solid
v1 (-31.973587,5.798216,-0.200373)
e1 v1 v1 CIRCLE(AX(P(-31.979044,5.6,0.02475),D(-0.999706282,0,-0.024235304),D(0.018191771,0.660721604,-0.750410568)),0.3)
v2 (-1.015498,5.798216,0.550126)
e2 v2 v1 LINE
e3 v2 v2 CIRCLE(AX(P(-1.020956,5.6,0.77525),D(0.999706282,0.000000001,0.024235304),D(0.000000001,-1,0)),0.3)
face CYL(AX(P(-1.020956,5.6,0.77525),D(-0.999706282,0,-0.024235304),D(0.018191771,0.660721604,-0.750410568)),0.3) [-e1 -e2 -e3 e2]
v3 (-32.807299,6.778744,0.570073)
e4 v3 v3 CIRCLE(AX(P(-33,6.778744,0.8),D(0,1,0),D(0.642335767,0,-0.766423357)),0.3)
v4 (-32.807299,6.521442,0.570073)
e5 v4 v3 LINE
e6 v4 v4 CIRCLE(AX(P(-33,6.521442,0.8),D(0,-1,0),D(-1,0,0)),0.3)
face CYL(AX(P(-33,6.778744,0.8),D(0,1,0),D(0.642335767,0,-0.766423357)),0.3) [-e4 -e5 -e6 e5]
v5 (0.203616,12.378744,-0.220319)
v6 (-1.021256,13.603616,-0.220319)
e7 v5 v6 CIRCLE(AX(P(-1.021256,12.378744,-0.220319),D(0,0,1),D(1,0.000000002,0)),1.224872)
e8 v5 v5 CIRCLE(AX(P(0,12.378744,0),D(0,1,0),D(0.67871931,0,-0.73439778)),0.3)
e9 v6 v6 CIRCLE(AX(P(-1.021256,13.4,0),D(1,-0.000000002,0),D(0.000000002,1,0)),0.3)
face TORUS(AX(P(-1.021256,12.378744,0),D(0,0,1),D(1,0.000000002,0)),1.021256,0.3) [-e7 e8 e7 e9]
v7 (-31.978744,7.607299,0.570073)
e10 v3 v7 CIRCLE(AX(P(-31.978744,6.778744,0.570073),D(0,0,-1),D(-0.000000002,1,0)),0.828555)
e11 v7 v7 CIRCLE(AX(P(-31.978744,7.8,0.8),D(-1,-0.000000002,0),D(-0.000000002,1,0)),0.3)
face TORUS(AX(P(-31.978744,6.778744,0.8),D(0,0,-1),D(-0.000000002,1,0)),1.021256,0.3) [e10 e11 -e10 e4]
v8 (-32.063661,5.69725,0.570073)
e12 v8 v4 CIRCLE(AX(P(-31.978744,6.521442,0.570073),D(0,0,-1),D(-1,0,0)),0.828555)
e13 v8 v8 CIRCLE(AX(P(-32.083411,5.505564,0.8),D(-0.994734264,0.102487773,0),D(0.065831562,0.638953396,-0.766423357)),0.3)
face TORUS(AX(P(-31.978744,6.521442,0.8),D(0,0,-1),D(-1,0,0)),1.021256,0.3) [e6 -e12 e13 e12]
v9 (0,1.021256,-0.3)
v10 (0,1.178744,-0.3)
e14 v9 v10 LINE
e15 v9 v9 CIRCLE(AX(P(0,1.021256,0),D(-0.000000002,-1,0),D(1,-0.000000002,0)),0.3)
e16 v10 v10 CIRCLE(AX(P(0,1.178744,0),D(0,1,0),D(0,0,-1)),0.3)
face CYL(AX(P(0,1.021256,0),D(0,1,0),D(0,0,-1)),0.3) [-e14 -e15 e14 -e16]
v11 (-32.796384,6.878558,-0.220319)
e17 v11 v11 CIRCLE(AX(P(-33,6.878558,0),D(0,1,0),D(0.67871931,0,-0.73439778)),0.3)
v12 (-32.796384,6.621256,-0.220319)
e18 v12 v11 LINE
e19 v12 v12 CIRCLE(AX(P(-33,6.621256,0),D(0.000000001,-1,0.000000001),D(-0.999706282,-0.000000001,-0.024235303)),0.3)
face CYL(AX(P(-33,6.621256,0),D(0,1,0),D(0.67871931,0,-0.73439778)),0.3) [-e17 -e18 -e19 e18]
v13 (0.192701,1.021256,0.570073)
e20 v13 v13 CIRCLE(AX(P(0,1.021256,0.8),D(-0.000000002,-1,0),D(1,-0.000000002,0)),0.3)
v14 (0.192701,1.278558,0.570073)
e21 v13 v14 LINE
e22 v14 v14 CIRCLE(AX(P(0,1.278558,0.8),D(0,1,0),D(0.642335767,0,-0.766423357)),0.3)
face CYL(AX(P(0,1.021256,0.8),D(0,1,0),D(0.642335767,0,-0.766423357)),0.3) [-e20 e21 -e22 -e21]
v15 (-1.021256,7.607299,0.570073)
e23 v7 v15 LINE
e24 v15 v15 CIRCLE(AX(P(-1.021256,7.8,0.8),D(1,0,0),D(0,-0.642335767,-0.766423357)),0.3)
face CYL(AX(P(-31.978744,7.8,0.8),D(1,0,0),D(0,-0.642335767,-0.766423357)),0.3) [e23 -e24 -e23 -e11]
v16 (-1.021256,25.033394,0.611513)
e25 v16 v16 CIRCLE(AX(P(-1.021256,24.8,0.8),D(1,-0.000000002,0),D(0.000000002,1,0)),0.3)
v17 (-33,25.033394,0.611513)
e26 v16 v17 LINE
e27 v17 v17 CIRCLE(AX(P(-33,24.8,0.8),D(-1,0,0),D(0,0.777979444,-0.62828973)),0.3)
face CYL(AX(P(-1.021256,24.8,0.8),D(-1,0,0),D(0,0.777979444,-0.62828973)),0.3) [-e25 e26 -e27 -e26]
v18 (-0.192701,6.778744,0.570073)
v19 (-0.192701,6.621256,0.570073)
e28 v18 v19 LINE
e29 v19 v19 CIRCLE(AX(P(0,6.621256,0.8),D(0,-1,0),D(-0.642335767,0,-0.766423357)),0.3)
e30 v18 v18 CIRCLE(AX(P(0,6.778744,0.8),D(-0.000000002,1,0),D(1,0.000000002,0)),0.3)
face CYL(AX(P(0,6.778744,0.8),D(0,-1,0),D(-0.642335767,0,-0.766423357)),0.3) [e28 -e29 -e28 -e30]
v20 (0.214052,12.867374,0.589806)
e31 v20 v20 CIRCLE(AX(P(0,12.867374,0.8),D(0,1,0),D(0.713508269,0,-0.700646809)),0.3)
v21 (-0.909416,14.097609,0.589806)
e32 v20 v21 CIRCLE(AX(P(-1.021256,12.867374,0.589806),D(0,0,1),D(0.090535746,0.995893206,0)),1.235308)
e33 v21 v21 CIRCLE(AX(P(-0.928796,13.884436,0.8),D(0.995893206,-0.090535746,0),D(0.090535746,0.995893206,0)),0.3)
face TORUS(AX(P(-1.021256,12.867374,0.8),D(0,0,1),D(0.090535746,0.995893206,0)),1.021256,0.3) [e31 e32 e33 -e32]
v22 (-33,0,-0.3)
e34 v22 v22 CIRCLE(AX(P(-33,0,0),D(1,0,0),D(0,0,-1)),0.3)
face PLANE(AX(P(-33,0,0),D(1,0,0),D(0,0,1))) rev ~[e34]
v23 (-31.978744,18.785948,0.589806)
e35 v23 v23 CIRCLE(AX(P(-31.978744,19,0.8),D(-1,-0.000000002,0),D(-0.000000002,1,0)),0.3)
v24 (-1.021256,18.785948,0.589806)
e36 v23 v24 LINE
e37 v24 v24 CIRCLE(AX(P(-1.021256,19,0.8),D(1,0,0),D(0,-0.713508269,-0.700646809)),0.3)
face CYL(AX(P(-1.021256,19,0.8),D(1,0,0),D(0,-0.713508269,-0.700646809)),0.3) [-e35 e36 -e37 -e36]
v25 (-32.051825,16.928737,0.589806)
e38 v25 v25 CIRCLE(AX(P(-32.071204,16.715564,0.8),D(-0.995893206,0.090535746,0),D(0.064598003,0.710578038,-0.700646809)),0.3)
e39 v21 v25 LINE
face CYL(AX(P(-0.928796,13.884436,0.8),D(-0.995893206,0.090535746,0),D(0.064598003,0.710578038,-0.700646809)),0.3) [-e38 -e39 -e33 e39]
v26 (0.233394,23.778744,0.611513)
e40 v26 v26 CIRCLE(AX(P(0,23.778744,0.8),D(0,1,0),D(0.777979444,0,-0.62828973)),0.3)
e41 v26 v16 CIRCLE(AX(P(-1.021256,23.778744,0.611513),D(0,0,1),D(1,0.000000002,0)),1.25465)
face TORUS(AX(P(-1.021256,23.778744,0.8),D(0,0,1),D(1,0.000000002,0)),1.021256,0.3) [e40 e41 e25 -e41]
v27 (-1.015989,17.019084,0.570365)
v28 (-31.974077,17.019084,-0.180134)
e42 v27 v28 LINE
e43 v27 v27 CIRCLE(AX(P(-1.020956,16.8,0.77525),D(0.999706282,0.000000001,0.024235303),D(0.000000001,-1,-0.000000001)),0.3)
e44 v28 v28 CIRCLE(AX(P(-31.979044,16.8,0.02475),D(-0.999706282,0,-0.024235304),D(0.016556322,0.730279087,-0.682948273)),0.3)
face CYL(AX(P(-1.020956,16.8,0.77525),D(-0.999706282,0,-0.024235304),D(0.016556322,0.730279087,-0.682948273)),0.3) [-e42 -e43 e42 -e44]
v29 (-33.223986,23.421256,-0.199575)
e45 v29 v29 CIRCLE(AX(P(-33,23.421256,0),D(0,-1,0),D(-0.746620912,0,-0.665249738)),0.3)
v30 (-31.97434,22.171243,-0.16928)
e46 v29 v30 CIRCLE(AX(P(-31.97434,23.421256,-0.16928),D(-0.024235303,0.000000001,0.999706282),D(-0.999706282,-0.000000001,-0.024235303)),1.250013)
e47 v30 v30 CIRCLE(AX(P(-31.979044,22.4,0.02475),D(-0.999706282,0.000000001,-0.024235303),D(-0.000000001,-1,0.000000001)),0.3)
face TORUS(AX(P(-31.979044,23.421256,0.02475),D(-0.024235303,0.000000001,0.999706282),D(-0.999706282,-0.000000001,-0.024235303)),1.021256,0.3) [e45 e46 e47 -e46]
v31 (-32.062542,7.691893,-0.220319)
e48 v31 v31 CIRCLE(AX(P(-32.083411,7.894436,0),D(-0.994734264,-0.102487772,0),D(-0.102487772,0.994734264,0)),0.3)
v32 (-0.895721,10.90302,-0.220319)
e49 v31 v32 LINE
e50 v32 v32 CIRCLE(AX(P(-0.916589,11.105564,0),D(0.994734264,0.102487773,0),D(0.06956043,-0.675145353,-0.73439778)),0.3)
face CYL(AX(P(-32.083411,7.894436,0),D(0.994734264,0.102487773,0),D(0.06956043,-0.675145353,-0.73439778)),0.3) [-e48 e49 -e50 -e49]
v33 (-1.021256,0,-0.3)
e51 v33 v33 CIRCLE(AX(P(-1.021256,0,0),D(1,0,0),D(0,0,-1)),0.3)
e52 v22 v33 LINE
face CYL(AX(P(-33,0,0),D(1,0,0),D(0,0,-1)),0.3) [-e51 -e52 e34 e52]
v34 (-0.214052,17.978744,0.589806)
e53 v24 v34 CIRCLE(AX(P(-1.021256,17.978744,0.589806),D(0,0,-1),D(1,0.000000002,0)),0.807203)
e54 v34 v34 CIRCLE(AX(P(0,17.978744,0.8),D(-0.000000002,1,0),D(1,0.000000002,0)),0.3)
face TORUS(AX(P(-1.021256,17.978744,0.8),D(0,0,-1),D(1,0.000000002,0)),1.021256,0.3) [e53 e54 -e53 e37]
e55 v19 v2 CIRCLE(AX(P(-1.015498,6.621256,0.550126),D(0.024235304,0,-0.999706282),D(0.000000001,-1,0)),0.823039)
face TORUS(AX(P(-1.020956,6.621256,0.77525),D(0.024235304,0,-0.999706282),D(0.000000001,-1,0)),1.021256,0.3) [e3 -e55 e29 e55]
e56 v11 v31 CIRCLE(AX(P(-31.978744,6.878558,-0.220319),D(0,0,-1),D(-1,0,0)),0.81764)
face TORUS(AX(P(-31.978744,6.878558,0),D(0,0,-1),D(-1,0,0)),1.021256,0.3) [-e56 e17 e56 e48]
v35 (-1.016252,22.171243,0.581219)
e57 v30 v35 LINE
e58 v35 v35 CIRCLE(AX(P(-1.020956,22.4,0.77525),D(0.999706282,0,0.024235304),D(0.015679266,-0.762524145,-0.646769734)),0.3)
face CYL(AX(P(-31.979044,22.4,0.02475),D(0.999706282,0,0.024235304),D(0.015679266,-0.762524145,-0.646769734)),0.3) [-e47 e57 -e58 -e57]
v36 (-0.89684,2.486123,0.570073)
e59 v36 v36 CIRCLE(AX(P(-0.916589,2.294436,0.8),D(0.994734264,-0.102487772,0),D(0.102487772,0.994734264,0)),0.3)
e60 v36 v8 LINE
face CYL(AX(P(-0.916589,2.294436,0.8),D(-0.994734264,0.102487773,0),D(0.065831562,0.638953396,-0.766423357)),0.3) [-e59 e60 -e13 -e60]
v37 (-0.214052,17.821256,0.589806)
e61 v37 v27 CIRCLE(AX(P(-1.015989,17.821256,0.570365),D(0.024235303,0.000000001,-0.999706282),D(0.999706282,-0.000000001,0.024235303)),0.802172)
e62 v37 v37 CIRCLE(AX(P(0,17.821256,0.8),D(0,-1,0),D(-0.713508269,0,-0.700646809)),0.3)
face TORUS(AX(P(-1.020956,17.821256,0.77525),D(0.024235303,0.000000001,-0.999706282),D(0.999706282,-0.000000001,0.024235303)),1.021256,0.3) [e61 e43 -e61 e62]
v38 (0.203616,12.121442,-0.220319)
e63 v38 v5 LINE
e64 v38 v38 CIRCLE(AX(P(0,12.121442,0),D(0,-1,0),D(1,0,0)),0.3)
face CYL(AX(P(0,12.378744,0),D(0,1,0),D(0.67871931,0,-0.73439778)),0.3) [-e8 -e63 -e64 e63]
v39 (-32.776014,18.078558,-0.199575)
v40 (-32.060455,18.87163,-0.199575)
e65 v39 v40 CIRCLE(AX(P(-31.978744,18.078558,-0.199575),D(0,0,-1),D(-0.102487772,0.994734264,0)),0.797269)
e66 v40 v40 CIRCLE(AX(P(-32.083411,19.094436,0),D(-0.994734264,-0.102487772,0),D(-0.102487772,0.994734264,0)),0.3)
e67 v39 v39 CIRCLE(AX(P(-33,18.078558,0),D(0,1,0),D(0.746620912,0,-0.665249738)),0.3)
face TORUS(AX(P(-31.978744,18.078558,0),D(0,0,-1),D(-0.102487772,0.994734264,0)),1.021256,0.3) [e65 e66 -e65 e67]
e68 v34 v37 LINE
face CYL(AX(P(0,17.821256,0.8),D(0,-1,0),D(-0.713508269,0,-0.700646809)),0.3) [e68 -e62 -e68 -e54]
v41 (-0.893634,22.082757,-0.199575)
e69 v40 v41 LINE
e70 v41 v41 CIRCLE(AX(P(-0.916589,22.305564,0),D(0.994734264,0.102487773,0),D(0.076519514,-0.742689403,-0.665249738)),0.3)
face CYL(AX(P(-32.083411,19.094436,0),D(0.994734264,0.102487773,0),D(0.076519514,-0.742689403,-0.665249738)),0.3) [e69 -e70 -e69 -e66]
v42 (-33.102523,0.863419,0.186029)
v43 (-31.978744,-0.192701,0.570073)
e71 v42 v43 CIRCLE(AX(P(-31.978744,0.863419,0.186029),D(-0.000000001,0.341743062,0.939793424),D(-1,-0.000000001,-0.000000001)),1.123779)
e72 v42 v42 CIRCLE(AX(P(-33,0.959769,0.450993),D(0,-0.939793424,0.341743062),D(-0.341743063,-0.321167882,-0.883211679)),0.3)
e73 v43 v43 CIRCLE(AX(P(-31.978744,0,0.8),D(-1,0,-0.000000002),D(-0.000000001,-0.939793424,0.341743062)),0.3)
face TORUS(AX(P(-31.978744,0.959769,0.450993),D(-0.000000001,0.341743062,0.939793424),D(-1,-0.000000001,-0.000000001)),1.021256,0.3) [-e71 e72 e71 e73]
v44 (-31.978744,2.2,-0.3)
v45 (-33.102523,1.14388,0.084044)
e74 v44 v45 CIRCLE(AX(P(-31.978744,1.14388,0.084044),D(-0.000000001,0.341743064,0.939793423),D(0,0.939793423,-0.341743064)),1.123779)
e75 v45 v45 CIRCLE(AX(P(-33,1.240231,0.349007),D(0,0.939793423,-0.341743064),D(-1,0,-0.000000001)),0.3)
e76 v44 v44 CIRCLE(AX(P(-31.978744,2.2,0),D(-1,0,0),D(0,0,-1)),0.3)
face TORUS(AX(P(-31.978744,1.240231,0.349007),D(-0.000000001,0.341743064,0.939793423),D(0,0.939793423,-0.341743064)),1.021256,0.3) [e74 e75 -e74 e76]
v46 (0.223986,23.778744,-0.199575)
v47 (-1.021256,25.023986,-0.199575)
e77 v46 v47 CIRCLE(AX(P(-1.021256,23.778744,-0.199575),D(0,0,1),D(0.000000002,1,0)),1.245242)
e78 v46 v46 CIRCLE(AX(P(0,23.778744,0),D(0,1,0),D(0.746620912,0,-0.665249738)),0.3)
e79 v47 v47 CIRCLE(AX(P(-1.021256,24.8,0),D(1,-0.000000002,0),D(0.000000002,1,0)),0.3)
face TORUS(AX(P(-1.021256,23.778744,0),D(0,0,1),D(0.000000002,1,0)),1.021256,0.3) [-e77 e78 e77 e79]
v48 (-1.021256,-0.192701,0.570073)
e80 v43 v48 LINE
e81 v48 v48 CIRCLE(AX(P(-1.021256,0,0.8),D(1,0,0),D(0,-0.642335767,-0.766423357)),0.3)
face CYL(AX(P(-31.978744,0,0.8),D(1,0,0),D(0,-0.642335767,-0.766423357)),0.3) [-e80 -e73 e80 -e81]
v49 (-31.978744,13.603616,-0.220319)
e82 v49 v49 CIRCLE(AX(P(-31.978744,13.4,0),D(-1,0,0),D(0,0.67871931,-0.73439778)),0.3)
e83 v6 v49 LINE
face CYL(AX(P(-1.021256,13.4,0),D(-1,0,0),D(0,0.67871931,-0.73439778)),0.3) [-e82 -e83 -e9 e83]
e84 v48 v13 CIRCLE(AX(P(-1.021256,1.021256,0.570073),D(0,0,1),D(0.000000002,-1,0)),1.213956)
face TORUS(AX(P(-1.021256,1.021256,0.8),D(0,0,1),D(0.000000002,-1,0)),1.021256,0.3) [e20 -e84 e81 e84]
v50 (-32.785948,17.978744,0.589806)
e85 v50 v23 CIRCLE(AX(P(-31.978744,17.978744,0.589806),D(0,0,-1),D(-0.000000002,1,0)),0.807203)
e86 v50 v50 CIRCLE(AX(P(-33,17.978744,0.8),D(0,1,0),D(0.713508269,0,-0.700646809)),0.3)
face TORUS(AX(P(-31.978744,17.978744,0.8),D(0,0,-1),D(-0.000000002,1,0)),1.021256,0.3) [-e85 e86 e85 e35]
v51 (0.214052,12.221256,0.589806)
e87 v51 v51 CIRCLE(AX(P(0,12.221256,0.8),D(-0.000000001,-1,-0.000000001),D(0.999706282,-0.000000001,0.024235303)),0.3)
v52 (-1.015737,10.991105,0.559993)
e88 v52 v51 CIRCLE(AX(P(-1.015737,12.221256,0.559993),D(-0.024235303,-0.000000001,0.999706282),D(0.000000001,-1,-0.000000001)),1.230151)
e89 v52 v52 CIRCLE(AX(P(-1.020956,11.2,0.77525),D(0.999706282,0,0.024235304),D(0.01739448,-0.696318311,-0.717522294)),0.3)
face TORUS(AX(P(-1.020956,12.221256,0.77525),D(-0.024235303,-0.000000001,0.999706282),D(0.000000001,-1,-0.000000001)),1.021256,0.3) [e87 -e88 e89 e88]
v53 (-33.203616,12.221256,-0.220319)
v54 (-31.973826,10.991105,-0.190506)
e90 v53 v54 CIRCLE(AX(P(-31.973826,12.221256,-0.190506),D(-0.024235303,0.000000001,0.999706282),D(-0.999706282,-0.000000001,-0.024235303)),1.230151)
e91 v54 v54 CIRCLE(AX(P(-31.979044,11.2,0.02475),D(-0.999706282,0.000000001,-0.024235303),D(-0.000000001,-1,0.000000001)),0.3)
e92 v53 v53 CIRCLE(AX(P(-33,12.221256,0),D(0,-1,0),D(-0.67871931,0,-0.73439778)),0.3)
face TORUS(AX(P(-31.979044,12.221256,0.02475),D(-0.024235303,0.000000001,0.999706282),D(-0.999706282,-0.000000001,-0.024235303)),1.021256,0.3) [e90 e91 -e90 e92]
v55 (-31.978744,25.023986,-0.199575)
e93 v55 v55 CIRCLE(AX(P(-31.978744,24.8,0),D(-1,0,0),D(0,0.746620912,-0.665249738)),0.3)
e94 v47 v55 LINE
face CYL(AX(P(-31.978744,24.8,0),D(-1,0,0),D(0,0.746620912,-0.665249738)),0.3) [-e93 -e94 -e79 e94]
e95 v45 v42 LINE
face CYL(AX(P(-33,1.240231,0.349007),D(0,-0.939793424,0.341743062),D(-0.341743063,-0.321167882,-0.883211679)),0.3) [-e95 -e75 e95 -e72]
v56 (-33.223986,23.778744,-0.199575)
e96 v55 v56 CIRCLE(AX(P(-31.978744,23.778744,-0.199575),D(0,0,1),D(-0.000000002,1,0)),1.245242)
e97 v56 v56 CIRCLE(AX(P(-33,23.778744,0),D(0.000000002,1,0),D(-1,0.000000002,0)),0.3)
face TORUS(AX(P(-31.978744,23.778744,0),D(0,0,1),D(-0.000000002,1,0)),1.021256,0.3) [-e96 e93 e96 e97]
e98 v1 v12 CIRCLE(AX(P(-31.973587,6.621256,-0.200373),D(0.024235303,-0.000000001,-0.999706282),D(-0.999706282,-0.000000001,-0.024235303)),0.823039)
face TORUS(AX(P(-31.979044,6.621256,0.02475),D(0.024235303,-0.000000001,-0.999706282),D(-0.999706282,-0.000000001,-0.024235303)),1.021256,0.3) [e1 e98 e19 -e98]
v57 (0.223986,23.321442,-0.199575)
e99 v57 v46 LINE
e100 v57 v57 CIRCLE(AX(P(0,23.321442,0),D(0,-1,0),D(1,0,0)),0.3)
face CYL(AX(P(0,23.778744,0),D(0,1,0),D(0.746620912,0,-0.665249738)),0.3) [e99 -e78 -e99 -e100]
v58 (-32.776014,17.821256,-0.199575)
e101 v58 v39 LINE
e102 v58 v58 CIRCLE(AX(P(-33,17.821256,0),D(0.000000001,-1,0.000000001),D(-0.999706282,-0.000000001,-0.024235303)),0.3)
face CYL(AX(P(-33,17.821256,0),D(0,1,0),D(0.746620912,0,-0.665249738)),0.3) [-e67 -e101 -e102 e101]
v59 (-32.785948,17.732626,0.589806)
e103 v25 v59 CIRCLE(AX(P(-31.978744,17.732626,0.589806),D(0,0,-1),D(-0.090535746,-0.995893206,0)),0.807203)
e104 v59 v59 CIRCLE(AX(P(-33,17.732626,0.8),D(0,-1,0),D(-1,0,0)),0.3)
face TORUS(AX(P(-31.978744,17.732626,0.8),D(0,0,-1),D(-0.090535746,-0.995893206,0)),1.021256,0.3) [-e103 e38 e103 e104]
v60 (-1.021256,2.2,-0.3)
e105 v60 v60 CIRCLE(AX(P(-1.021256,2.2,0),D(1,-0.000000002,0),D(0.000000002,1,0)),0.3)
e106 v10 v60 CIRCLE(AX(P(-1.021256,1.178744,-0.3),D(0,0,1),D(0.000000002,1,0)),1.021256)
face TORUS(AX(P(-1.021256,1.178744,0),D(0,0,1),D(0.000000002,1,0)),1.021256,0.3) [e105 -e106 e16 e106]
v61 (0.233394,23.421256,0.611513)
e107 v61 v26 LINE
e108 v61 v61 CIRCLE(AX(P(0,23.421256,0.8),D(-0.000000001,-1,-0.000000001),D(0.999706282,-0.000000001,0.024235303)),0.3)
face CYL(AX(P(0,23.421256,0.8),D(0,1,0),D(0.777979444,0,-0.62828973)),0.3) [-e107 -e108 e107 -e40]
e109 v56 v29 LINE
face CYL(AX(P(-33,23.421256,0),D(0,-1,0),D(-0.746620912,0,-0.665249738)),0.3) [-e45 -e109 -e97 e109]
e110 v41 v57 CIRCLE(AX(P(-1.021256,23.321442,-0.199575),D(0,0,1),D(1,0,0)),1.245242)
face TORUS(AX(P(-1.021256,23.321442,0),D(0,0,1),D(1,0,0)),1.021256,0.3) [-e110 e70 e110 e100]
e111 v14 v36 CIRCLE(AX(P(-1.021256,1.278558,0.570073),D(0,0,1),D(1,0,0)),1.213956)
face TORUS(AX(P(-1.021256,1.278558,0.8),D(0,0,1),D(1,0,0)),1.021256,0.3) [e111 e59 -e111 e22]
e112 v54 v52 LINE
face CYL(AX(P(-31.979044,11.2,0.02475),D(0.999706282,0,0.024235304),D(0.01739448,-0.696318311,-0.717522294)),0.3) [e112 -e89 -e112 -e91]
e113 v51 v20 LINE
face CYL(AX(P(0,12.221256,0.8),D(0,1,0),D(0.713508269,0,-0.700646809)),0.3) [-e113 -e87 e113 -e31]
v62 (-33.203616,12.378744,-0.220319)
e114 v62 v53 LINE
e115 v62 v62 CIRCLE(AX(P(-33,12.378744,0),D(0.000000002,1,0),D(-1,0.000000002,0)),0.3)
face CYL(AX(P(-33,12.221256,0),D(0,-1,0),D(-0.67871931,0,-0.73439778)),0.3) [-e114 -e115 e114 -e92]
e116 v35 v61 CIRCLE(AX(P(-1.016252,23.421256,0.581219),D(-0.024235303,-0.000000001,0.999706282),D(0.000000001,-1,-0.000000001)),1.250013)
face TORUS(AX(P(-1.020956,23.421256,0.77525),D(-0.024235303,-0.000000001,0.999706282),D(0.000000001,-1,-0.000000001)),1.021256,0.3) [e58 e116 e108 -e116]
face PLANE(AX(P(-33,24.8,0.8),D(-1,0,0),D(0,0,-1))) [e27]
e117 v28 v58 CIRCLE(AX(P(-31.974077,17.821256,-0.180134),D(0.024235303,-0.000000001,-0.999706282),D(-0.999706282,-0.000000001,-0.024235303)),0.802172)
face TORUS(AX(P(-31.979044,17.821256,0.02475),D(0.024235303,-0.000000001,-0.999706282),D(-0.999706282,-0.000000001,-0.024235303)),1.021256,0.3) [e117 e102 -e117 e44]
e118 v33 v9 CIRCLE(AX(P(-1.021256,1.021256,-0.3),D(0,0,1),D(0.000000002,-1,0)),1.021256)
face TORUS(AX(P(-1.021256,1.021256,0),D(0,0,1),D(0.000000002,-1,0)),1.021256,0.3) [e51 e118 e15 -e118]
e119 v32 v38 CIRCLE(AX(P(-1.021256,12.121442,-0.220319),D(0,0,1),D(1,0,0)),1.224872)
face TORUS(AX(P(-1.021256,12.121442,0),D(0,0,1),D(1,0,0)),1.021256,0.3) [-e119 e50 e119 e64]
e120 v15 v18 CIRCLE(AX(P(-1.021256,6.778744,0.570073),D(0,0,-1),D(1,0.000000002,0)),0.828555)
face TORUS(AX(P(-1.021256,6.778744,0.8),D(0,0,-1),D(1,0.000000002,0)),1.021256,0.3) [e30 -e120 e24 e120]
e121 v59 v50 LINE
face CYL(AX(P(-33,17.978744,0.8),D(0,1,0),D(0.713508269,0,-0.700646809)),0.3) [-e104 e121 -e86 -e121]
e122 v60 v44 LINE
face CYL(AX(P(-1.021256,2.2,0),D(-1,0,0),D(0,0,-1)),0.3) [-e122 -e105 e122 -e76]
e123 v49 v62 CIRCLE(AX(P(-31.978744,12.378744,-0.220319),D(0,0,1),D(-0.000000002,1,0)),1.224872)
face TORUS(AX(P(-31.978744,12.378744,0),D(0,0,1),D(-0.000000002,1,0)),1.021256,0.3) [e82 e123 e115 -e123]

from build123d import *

# Parameters (mm, degrees)
SKETCH5_R = 0.3


with BuildPart() as part:
    # Sweep4: sweep along a curve in space
    with BuildLine() as sweep4_path:
        Line((-33, 0, 0), (-1.021255708, 0, 0))
        ThreePointArc((-1.021255708, 0, 0), (-0.299118872, 0.299118872, 0), (0, 1.021255708, 0))
        Line((0, 1.021255708, 0), (0, 1.178744292, 0))
        ThreePointArc((-1.021255708, 2.2, 0), (-0.299118872, 1.900881128, 0), (0, 1.178744292, 0))
        Line((-1.021255708, 2.2, 0), (-31.978744292, 2.2, 0))
        ThreePointArc((-31.978744292, 2.2, 0), (-32.700881128, 1.918890052, 0.102221799), (-33, 1.240230602, 0.349007054))
        Line((-33, 1.240230602, 0.349007054), (-33, 0.959769398, 0.450992946))
        ThreePointArc((-33, 0.959769398, 0.450992946), (-32.700881128, 0.281109948, 0.6977782), (-31.978744292, 0, 0.8))
        Line((-31.978744292, 0, 0.8), (-1.021255708, 0, 0.8))
        ThreePointArc((-1.021255708, 0, 0.8), (-0.299118872, 0.299118872, 0.8), (0, 1.021255708, 0.8))
        Line((0, 1.021255708, 0.8), (0, 1.278558447, 0.8))
        ThreePointArc((0, 1.278558447, 0.8), (-0.263016234, 1.962690102, 0.8), (-0.916589485, 2.294436492, 0.8))
        Line((-0.916589485, 2.294436492, 0.8), (-32.083410515, 5.505563508, 0.8))
        ThreePointArc((-33, 6.521441553, 0.8), (-32.736983766, 5.837309898, 0.8), (-32.083410515, 5.505563508, 0.8))
        Line((-33, 6.778744292, 0.8), (-33, 6.521441553, 0.8))
        ThreePointArc((-31.978744292, 7.8, 0.8), (-32.700881128, 7.500881128, 0.8), (-33, 6.778744292, 0.8))
        Line((-31.978744292, 7.8, 0.8), (-1.021255708, 7.8, 0.8))
        ThreePointArc((0, 6.778744292, 0.8), (-0.299118872, 7.500881128, 0.8), (-1.021255708, 7.8, 0.8))
        Line((0, 6.778744292, 0.8), (0, 6.621255708, 0.8))
        ThreePointArc((-1.020955747, 5.6, 0.775249557), (-0.299031015, 5.899118872, 0.792750763), (0, 6.621255708, 0.8))
        Line((-1.020955747, 5.6, 0.775249557), (-31.979044253, 5.6, 0.024750442))
        ThreePointArc((-33, 6.621255708, 0), (-32.700968985, 5.899118872, 0.007249237), (-31.979044253, 5.6, 0.024750442))
        Line((-33, 6.621255708, 0), (-33, 6.878558447, 0))
        ThreePointArc((-33, 6.878558447, 0), (-32.736983766, 7.562690102, 0), (-32.083410515, 7.894436492, 0))
        Line((-32.083410515, 7.894436492, 0), (-0.916589485, 11.105563508, 0))
        ThreePointArc((0, 12.121441553, 0), (-0.263016234, 11.437309898, 0), (-0.916589485, 11.105563508, 0))
        Line((0, 12.378744292, 0), (0, 12.121441553, 0))
        ThreePointArc((0, 12.378744292, 0), (-0.299118872, 13.100881128, 0), (-1.021255708, 13.4, 0))
        Line((-1.021255708, 13.4, 0), (-31.978744292, 13.4, 0))
        ThreePointArc((-31.978744292, 13.4, 0), (-32.700881128, 13.100881128, 0), (-33, 12.378744292, 0))
        Line((-33, 12.221255708, 0), (-33, 12.378744292, 0))
        ThreePointArc((-33, 12.221255708, 0), (-32.700968985, 11.499118872, 0.007249237), (-31.979044253, 11.2, 0.024750442))
        Line((-31.979044253, 11.2, 0.024750442), (-1.020955747, 11.2, 0.775249558))
        ThreePointArc((-1.020955747, 11.2, 0.775249558), (-0.299031015, 11.499118872, 0.792750763), (0, 12.221255708, 0.8))
        Line((0, 12.221255708, 0.8), (0, 12.867374339, 0.8))
        ThreePointArc((-0.92879556, 13.88443596, 0.8), (-0.267137456, 13.556046164, 0.8), (0, 12.867374339, 0.8))
        Line((-0.92879556, 13.88443596, 0.8), (-32.07120444, 16.71556404, 0.8))
        ThreePointArc((-32.07120444, 16.71556404, 0.8), (-32.732862544, 17.043953836, 0.8), (-33, 17.732625661, 0.8))
        Line((-33, 17.978744292, 0.8), (-33, 17.732625661, 0.8))
        ThreePointArc((-31.978744292, 19, 0.8), (-32.700881128, 18.700881128, 0.8), (-33, 17.978744292, 0.8))
        Line((-1.021255708, 19, 0.8), (-31.978744292, 19, 0.8))
        ThreePointArc((0, 17.978744292, 0.8), (-0.299118872, 18.700881128, 0.8), (-1.021255708, 19, 0.8))
        Line((0, 17.821255708, 0.8), (0, 17.978744292, 0.8))
        ThreePointArc((0, 17.821255708, 0.8), (-0.299031015, 17.099118872, 0.792750763), (-1.020955747, 16.8, 0.775249558))
        Line((-1.020955747, 16.8, 0.775249558), (-31.979044253, 16.8, 0.024750442))
        ThreePointArc((-33, 17.821255708, 0), (-32.700968985, 17.099118872, 0.007249237), (-31.979044253, 16.8, 0.024750442))
        Line((-33, 17.821255708, 0), (-33, 18.078558447, 0))
        ThreePointArc((-32.083410515, 19.094436492, 0), (-32.736983766, 18.762690102, 0), (-33, 18.078558447, 0))
        Line((-32.083410515, 19.094436492, 0), (-0.916589485, 22.305563508, 0))
        ThreePointArc((0, 23.321441553, 0), (-0.263016234, 22.637309898, 0), (-0.916589485, 22.305563508, 0))
        Line((0, 23.778744292, 0), (0, 23.321441553, 0))
        ThreePointArc((-1.021255708, 24.8, 0), (-0.299118872, 24.500881128, 0), (0, 23.778744292, 0))
        Line((-31.978744292, 24.8, 0), (-1.021255708, 24.8, 0))
        ThreePointArc((-31.978744292, 24.8, 0), (-32.700881128, 24.500881128, 0), (-33, 23.778744292, 0))
        Line((-33, 23.421255708, 0), (-33, 23.778744292, 0))
        ThreePointArc((-33, 23.421255708, 0), (-32.700968985, 22.699118872, 0.007249237), (-31.979044253, 22.4, 0.024750442))
        Line((-31.979044253, 22.4, 0.024750442), (-1.020955747, 22.4, 0.775249558))
        ThreePointArc((-1.020955747, 22.4, 0.775249558), (-0.299031015, 22.699118872, 0.792750763), (0, 23.421255708, 0.8))
        Line((0, 23.421255708, 0.8), (0, 23.778744292, 0.8))
        ThreePointArc((0, 23.778744292, 0.8), (-0.299118872, 24.500881128, 0.8), (-1.021255708, 24.8, 0.8))
        Line((-1.021255708, 24.8, 0.8), (-33, 24.8, 0.8))
    # Sketch5 → Sweep4 (sweep)
    with BuildSketch(Plane(origin=(-33, 0, 0), x_dir=(0, 0, -1), z_dir=(1, 0, 0))):
        Circle(SKETCH5_R)
    sweep(path=sweep4_path.line)


solid = part.part
